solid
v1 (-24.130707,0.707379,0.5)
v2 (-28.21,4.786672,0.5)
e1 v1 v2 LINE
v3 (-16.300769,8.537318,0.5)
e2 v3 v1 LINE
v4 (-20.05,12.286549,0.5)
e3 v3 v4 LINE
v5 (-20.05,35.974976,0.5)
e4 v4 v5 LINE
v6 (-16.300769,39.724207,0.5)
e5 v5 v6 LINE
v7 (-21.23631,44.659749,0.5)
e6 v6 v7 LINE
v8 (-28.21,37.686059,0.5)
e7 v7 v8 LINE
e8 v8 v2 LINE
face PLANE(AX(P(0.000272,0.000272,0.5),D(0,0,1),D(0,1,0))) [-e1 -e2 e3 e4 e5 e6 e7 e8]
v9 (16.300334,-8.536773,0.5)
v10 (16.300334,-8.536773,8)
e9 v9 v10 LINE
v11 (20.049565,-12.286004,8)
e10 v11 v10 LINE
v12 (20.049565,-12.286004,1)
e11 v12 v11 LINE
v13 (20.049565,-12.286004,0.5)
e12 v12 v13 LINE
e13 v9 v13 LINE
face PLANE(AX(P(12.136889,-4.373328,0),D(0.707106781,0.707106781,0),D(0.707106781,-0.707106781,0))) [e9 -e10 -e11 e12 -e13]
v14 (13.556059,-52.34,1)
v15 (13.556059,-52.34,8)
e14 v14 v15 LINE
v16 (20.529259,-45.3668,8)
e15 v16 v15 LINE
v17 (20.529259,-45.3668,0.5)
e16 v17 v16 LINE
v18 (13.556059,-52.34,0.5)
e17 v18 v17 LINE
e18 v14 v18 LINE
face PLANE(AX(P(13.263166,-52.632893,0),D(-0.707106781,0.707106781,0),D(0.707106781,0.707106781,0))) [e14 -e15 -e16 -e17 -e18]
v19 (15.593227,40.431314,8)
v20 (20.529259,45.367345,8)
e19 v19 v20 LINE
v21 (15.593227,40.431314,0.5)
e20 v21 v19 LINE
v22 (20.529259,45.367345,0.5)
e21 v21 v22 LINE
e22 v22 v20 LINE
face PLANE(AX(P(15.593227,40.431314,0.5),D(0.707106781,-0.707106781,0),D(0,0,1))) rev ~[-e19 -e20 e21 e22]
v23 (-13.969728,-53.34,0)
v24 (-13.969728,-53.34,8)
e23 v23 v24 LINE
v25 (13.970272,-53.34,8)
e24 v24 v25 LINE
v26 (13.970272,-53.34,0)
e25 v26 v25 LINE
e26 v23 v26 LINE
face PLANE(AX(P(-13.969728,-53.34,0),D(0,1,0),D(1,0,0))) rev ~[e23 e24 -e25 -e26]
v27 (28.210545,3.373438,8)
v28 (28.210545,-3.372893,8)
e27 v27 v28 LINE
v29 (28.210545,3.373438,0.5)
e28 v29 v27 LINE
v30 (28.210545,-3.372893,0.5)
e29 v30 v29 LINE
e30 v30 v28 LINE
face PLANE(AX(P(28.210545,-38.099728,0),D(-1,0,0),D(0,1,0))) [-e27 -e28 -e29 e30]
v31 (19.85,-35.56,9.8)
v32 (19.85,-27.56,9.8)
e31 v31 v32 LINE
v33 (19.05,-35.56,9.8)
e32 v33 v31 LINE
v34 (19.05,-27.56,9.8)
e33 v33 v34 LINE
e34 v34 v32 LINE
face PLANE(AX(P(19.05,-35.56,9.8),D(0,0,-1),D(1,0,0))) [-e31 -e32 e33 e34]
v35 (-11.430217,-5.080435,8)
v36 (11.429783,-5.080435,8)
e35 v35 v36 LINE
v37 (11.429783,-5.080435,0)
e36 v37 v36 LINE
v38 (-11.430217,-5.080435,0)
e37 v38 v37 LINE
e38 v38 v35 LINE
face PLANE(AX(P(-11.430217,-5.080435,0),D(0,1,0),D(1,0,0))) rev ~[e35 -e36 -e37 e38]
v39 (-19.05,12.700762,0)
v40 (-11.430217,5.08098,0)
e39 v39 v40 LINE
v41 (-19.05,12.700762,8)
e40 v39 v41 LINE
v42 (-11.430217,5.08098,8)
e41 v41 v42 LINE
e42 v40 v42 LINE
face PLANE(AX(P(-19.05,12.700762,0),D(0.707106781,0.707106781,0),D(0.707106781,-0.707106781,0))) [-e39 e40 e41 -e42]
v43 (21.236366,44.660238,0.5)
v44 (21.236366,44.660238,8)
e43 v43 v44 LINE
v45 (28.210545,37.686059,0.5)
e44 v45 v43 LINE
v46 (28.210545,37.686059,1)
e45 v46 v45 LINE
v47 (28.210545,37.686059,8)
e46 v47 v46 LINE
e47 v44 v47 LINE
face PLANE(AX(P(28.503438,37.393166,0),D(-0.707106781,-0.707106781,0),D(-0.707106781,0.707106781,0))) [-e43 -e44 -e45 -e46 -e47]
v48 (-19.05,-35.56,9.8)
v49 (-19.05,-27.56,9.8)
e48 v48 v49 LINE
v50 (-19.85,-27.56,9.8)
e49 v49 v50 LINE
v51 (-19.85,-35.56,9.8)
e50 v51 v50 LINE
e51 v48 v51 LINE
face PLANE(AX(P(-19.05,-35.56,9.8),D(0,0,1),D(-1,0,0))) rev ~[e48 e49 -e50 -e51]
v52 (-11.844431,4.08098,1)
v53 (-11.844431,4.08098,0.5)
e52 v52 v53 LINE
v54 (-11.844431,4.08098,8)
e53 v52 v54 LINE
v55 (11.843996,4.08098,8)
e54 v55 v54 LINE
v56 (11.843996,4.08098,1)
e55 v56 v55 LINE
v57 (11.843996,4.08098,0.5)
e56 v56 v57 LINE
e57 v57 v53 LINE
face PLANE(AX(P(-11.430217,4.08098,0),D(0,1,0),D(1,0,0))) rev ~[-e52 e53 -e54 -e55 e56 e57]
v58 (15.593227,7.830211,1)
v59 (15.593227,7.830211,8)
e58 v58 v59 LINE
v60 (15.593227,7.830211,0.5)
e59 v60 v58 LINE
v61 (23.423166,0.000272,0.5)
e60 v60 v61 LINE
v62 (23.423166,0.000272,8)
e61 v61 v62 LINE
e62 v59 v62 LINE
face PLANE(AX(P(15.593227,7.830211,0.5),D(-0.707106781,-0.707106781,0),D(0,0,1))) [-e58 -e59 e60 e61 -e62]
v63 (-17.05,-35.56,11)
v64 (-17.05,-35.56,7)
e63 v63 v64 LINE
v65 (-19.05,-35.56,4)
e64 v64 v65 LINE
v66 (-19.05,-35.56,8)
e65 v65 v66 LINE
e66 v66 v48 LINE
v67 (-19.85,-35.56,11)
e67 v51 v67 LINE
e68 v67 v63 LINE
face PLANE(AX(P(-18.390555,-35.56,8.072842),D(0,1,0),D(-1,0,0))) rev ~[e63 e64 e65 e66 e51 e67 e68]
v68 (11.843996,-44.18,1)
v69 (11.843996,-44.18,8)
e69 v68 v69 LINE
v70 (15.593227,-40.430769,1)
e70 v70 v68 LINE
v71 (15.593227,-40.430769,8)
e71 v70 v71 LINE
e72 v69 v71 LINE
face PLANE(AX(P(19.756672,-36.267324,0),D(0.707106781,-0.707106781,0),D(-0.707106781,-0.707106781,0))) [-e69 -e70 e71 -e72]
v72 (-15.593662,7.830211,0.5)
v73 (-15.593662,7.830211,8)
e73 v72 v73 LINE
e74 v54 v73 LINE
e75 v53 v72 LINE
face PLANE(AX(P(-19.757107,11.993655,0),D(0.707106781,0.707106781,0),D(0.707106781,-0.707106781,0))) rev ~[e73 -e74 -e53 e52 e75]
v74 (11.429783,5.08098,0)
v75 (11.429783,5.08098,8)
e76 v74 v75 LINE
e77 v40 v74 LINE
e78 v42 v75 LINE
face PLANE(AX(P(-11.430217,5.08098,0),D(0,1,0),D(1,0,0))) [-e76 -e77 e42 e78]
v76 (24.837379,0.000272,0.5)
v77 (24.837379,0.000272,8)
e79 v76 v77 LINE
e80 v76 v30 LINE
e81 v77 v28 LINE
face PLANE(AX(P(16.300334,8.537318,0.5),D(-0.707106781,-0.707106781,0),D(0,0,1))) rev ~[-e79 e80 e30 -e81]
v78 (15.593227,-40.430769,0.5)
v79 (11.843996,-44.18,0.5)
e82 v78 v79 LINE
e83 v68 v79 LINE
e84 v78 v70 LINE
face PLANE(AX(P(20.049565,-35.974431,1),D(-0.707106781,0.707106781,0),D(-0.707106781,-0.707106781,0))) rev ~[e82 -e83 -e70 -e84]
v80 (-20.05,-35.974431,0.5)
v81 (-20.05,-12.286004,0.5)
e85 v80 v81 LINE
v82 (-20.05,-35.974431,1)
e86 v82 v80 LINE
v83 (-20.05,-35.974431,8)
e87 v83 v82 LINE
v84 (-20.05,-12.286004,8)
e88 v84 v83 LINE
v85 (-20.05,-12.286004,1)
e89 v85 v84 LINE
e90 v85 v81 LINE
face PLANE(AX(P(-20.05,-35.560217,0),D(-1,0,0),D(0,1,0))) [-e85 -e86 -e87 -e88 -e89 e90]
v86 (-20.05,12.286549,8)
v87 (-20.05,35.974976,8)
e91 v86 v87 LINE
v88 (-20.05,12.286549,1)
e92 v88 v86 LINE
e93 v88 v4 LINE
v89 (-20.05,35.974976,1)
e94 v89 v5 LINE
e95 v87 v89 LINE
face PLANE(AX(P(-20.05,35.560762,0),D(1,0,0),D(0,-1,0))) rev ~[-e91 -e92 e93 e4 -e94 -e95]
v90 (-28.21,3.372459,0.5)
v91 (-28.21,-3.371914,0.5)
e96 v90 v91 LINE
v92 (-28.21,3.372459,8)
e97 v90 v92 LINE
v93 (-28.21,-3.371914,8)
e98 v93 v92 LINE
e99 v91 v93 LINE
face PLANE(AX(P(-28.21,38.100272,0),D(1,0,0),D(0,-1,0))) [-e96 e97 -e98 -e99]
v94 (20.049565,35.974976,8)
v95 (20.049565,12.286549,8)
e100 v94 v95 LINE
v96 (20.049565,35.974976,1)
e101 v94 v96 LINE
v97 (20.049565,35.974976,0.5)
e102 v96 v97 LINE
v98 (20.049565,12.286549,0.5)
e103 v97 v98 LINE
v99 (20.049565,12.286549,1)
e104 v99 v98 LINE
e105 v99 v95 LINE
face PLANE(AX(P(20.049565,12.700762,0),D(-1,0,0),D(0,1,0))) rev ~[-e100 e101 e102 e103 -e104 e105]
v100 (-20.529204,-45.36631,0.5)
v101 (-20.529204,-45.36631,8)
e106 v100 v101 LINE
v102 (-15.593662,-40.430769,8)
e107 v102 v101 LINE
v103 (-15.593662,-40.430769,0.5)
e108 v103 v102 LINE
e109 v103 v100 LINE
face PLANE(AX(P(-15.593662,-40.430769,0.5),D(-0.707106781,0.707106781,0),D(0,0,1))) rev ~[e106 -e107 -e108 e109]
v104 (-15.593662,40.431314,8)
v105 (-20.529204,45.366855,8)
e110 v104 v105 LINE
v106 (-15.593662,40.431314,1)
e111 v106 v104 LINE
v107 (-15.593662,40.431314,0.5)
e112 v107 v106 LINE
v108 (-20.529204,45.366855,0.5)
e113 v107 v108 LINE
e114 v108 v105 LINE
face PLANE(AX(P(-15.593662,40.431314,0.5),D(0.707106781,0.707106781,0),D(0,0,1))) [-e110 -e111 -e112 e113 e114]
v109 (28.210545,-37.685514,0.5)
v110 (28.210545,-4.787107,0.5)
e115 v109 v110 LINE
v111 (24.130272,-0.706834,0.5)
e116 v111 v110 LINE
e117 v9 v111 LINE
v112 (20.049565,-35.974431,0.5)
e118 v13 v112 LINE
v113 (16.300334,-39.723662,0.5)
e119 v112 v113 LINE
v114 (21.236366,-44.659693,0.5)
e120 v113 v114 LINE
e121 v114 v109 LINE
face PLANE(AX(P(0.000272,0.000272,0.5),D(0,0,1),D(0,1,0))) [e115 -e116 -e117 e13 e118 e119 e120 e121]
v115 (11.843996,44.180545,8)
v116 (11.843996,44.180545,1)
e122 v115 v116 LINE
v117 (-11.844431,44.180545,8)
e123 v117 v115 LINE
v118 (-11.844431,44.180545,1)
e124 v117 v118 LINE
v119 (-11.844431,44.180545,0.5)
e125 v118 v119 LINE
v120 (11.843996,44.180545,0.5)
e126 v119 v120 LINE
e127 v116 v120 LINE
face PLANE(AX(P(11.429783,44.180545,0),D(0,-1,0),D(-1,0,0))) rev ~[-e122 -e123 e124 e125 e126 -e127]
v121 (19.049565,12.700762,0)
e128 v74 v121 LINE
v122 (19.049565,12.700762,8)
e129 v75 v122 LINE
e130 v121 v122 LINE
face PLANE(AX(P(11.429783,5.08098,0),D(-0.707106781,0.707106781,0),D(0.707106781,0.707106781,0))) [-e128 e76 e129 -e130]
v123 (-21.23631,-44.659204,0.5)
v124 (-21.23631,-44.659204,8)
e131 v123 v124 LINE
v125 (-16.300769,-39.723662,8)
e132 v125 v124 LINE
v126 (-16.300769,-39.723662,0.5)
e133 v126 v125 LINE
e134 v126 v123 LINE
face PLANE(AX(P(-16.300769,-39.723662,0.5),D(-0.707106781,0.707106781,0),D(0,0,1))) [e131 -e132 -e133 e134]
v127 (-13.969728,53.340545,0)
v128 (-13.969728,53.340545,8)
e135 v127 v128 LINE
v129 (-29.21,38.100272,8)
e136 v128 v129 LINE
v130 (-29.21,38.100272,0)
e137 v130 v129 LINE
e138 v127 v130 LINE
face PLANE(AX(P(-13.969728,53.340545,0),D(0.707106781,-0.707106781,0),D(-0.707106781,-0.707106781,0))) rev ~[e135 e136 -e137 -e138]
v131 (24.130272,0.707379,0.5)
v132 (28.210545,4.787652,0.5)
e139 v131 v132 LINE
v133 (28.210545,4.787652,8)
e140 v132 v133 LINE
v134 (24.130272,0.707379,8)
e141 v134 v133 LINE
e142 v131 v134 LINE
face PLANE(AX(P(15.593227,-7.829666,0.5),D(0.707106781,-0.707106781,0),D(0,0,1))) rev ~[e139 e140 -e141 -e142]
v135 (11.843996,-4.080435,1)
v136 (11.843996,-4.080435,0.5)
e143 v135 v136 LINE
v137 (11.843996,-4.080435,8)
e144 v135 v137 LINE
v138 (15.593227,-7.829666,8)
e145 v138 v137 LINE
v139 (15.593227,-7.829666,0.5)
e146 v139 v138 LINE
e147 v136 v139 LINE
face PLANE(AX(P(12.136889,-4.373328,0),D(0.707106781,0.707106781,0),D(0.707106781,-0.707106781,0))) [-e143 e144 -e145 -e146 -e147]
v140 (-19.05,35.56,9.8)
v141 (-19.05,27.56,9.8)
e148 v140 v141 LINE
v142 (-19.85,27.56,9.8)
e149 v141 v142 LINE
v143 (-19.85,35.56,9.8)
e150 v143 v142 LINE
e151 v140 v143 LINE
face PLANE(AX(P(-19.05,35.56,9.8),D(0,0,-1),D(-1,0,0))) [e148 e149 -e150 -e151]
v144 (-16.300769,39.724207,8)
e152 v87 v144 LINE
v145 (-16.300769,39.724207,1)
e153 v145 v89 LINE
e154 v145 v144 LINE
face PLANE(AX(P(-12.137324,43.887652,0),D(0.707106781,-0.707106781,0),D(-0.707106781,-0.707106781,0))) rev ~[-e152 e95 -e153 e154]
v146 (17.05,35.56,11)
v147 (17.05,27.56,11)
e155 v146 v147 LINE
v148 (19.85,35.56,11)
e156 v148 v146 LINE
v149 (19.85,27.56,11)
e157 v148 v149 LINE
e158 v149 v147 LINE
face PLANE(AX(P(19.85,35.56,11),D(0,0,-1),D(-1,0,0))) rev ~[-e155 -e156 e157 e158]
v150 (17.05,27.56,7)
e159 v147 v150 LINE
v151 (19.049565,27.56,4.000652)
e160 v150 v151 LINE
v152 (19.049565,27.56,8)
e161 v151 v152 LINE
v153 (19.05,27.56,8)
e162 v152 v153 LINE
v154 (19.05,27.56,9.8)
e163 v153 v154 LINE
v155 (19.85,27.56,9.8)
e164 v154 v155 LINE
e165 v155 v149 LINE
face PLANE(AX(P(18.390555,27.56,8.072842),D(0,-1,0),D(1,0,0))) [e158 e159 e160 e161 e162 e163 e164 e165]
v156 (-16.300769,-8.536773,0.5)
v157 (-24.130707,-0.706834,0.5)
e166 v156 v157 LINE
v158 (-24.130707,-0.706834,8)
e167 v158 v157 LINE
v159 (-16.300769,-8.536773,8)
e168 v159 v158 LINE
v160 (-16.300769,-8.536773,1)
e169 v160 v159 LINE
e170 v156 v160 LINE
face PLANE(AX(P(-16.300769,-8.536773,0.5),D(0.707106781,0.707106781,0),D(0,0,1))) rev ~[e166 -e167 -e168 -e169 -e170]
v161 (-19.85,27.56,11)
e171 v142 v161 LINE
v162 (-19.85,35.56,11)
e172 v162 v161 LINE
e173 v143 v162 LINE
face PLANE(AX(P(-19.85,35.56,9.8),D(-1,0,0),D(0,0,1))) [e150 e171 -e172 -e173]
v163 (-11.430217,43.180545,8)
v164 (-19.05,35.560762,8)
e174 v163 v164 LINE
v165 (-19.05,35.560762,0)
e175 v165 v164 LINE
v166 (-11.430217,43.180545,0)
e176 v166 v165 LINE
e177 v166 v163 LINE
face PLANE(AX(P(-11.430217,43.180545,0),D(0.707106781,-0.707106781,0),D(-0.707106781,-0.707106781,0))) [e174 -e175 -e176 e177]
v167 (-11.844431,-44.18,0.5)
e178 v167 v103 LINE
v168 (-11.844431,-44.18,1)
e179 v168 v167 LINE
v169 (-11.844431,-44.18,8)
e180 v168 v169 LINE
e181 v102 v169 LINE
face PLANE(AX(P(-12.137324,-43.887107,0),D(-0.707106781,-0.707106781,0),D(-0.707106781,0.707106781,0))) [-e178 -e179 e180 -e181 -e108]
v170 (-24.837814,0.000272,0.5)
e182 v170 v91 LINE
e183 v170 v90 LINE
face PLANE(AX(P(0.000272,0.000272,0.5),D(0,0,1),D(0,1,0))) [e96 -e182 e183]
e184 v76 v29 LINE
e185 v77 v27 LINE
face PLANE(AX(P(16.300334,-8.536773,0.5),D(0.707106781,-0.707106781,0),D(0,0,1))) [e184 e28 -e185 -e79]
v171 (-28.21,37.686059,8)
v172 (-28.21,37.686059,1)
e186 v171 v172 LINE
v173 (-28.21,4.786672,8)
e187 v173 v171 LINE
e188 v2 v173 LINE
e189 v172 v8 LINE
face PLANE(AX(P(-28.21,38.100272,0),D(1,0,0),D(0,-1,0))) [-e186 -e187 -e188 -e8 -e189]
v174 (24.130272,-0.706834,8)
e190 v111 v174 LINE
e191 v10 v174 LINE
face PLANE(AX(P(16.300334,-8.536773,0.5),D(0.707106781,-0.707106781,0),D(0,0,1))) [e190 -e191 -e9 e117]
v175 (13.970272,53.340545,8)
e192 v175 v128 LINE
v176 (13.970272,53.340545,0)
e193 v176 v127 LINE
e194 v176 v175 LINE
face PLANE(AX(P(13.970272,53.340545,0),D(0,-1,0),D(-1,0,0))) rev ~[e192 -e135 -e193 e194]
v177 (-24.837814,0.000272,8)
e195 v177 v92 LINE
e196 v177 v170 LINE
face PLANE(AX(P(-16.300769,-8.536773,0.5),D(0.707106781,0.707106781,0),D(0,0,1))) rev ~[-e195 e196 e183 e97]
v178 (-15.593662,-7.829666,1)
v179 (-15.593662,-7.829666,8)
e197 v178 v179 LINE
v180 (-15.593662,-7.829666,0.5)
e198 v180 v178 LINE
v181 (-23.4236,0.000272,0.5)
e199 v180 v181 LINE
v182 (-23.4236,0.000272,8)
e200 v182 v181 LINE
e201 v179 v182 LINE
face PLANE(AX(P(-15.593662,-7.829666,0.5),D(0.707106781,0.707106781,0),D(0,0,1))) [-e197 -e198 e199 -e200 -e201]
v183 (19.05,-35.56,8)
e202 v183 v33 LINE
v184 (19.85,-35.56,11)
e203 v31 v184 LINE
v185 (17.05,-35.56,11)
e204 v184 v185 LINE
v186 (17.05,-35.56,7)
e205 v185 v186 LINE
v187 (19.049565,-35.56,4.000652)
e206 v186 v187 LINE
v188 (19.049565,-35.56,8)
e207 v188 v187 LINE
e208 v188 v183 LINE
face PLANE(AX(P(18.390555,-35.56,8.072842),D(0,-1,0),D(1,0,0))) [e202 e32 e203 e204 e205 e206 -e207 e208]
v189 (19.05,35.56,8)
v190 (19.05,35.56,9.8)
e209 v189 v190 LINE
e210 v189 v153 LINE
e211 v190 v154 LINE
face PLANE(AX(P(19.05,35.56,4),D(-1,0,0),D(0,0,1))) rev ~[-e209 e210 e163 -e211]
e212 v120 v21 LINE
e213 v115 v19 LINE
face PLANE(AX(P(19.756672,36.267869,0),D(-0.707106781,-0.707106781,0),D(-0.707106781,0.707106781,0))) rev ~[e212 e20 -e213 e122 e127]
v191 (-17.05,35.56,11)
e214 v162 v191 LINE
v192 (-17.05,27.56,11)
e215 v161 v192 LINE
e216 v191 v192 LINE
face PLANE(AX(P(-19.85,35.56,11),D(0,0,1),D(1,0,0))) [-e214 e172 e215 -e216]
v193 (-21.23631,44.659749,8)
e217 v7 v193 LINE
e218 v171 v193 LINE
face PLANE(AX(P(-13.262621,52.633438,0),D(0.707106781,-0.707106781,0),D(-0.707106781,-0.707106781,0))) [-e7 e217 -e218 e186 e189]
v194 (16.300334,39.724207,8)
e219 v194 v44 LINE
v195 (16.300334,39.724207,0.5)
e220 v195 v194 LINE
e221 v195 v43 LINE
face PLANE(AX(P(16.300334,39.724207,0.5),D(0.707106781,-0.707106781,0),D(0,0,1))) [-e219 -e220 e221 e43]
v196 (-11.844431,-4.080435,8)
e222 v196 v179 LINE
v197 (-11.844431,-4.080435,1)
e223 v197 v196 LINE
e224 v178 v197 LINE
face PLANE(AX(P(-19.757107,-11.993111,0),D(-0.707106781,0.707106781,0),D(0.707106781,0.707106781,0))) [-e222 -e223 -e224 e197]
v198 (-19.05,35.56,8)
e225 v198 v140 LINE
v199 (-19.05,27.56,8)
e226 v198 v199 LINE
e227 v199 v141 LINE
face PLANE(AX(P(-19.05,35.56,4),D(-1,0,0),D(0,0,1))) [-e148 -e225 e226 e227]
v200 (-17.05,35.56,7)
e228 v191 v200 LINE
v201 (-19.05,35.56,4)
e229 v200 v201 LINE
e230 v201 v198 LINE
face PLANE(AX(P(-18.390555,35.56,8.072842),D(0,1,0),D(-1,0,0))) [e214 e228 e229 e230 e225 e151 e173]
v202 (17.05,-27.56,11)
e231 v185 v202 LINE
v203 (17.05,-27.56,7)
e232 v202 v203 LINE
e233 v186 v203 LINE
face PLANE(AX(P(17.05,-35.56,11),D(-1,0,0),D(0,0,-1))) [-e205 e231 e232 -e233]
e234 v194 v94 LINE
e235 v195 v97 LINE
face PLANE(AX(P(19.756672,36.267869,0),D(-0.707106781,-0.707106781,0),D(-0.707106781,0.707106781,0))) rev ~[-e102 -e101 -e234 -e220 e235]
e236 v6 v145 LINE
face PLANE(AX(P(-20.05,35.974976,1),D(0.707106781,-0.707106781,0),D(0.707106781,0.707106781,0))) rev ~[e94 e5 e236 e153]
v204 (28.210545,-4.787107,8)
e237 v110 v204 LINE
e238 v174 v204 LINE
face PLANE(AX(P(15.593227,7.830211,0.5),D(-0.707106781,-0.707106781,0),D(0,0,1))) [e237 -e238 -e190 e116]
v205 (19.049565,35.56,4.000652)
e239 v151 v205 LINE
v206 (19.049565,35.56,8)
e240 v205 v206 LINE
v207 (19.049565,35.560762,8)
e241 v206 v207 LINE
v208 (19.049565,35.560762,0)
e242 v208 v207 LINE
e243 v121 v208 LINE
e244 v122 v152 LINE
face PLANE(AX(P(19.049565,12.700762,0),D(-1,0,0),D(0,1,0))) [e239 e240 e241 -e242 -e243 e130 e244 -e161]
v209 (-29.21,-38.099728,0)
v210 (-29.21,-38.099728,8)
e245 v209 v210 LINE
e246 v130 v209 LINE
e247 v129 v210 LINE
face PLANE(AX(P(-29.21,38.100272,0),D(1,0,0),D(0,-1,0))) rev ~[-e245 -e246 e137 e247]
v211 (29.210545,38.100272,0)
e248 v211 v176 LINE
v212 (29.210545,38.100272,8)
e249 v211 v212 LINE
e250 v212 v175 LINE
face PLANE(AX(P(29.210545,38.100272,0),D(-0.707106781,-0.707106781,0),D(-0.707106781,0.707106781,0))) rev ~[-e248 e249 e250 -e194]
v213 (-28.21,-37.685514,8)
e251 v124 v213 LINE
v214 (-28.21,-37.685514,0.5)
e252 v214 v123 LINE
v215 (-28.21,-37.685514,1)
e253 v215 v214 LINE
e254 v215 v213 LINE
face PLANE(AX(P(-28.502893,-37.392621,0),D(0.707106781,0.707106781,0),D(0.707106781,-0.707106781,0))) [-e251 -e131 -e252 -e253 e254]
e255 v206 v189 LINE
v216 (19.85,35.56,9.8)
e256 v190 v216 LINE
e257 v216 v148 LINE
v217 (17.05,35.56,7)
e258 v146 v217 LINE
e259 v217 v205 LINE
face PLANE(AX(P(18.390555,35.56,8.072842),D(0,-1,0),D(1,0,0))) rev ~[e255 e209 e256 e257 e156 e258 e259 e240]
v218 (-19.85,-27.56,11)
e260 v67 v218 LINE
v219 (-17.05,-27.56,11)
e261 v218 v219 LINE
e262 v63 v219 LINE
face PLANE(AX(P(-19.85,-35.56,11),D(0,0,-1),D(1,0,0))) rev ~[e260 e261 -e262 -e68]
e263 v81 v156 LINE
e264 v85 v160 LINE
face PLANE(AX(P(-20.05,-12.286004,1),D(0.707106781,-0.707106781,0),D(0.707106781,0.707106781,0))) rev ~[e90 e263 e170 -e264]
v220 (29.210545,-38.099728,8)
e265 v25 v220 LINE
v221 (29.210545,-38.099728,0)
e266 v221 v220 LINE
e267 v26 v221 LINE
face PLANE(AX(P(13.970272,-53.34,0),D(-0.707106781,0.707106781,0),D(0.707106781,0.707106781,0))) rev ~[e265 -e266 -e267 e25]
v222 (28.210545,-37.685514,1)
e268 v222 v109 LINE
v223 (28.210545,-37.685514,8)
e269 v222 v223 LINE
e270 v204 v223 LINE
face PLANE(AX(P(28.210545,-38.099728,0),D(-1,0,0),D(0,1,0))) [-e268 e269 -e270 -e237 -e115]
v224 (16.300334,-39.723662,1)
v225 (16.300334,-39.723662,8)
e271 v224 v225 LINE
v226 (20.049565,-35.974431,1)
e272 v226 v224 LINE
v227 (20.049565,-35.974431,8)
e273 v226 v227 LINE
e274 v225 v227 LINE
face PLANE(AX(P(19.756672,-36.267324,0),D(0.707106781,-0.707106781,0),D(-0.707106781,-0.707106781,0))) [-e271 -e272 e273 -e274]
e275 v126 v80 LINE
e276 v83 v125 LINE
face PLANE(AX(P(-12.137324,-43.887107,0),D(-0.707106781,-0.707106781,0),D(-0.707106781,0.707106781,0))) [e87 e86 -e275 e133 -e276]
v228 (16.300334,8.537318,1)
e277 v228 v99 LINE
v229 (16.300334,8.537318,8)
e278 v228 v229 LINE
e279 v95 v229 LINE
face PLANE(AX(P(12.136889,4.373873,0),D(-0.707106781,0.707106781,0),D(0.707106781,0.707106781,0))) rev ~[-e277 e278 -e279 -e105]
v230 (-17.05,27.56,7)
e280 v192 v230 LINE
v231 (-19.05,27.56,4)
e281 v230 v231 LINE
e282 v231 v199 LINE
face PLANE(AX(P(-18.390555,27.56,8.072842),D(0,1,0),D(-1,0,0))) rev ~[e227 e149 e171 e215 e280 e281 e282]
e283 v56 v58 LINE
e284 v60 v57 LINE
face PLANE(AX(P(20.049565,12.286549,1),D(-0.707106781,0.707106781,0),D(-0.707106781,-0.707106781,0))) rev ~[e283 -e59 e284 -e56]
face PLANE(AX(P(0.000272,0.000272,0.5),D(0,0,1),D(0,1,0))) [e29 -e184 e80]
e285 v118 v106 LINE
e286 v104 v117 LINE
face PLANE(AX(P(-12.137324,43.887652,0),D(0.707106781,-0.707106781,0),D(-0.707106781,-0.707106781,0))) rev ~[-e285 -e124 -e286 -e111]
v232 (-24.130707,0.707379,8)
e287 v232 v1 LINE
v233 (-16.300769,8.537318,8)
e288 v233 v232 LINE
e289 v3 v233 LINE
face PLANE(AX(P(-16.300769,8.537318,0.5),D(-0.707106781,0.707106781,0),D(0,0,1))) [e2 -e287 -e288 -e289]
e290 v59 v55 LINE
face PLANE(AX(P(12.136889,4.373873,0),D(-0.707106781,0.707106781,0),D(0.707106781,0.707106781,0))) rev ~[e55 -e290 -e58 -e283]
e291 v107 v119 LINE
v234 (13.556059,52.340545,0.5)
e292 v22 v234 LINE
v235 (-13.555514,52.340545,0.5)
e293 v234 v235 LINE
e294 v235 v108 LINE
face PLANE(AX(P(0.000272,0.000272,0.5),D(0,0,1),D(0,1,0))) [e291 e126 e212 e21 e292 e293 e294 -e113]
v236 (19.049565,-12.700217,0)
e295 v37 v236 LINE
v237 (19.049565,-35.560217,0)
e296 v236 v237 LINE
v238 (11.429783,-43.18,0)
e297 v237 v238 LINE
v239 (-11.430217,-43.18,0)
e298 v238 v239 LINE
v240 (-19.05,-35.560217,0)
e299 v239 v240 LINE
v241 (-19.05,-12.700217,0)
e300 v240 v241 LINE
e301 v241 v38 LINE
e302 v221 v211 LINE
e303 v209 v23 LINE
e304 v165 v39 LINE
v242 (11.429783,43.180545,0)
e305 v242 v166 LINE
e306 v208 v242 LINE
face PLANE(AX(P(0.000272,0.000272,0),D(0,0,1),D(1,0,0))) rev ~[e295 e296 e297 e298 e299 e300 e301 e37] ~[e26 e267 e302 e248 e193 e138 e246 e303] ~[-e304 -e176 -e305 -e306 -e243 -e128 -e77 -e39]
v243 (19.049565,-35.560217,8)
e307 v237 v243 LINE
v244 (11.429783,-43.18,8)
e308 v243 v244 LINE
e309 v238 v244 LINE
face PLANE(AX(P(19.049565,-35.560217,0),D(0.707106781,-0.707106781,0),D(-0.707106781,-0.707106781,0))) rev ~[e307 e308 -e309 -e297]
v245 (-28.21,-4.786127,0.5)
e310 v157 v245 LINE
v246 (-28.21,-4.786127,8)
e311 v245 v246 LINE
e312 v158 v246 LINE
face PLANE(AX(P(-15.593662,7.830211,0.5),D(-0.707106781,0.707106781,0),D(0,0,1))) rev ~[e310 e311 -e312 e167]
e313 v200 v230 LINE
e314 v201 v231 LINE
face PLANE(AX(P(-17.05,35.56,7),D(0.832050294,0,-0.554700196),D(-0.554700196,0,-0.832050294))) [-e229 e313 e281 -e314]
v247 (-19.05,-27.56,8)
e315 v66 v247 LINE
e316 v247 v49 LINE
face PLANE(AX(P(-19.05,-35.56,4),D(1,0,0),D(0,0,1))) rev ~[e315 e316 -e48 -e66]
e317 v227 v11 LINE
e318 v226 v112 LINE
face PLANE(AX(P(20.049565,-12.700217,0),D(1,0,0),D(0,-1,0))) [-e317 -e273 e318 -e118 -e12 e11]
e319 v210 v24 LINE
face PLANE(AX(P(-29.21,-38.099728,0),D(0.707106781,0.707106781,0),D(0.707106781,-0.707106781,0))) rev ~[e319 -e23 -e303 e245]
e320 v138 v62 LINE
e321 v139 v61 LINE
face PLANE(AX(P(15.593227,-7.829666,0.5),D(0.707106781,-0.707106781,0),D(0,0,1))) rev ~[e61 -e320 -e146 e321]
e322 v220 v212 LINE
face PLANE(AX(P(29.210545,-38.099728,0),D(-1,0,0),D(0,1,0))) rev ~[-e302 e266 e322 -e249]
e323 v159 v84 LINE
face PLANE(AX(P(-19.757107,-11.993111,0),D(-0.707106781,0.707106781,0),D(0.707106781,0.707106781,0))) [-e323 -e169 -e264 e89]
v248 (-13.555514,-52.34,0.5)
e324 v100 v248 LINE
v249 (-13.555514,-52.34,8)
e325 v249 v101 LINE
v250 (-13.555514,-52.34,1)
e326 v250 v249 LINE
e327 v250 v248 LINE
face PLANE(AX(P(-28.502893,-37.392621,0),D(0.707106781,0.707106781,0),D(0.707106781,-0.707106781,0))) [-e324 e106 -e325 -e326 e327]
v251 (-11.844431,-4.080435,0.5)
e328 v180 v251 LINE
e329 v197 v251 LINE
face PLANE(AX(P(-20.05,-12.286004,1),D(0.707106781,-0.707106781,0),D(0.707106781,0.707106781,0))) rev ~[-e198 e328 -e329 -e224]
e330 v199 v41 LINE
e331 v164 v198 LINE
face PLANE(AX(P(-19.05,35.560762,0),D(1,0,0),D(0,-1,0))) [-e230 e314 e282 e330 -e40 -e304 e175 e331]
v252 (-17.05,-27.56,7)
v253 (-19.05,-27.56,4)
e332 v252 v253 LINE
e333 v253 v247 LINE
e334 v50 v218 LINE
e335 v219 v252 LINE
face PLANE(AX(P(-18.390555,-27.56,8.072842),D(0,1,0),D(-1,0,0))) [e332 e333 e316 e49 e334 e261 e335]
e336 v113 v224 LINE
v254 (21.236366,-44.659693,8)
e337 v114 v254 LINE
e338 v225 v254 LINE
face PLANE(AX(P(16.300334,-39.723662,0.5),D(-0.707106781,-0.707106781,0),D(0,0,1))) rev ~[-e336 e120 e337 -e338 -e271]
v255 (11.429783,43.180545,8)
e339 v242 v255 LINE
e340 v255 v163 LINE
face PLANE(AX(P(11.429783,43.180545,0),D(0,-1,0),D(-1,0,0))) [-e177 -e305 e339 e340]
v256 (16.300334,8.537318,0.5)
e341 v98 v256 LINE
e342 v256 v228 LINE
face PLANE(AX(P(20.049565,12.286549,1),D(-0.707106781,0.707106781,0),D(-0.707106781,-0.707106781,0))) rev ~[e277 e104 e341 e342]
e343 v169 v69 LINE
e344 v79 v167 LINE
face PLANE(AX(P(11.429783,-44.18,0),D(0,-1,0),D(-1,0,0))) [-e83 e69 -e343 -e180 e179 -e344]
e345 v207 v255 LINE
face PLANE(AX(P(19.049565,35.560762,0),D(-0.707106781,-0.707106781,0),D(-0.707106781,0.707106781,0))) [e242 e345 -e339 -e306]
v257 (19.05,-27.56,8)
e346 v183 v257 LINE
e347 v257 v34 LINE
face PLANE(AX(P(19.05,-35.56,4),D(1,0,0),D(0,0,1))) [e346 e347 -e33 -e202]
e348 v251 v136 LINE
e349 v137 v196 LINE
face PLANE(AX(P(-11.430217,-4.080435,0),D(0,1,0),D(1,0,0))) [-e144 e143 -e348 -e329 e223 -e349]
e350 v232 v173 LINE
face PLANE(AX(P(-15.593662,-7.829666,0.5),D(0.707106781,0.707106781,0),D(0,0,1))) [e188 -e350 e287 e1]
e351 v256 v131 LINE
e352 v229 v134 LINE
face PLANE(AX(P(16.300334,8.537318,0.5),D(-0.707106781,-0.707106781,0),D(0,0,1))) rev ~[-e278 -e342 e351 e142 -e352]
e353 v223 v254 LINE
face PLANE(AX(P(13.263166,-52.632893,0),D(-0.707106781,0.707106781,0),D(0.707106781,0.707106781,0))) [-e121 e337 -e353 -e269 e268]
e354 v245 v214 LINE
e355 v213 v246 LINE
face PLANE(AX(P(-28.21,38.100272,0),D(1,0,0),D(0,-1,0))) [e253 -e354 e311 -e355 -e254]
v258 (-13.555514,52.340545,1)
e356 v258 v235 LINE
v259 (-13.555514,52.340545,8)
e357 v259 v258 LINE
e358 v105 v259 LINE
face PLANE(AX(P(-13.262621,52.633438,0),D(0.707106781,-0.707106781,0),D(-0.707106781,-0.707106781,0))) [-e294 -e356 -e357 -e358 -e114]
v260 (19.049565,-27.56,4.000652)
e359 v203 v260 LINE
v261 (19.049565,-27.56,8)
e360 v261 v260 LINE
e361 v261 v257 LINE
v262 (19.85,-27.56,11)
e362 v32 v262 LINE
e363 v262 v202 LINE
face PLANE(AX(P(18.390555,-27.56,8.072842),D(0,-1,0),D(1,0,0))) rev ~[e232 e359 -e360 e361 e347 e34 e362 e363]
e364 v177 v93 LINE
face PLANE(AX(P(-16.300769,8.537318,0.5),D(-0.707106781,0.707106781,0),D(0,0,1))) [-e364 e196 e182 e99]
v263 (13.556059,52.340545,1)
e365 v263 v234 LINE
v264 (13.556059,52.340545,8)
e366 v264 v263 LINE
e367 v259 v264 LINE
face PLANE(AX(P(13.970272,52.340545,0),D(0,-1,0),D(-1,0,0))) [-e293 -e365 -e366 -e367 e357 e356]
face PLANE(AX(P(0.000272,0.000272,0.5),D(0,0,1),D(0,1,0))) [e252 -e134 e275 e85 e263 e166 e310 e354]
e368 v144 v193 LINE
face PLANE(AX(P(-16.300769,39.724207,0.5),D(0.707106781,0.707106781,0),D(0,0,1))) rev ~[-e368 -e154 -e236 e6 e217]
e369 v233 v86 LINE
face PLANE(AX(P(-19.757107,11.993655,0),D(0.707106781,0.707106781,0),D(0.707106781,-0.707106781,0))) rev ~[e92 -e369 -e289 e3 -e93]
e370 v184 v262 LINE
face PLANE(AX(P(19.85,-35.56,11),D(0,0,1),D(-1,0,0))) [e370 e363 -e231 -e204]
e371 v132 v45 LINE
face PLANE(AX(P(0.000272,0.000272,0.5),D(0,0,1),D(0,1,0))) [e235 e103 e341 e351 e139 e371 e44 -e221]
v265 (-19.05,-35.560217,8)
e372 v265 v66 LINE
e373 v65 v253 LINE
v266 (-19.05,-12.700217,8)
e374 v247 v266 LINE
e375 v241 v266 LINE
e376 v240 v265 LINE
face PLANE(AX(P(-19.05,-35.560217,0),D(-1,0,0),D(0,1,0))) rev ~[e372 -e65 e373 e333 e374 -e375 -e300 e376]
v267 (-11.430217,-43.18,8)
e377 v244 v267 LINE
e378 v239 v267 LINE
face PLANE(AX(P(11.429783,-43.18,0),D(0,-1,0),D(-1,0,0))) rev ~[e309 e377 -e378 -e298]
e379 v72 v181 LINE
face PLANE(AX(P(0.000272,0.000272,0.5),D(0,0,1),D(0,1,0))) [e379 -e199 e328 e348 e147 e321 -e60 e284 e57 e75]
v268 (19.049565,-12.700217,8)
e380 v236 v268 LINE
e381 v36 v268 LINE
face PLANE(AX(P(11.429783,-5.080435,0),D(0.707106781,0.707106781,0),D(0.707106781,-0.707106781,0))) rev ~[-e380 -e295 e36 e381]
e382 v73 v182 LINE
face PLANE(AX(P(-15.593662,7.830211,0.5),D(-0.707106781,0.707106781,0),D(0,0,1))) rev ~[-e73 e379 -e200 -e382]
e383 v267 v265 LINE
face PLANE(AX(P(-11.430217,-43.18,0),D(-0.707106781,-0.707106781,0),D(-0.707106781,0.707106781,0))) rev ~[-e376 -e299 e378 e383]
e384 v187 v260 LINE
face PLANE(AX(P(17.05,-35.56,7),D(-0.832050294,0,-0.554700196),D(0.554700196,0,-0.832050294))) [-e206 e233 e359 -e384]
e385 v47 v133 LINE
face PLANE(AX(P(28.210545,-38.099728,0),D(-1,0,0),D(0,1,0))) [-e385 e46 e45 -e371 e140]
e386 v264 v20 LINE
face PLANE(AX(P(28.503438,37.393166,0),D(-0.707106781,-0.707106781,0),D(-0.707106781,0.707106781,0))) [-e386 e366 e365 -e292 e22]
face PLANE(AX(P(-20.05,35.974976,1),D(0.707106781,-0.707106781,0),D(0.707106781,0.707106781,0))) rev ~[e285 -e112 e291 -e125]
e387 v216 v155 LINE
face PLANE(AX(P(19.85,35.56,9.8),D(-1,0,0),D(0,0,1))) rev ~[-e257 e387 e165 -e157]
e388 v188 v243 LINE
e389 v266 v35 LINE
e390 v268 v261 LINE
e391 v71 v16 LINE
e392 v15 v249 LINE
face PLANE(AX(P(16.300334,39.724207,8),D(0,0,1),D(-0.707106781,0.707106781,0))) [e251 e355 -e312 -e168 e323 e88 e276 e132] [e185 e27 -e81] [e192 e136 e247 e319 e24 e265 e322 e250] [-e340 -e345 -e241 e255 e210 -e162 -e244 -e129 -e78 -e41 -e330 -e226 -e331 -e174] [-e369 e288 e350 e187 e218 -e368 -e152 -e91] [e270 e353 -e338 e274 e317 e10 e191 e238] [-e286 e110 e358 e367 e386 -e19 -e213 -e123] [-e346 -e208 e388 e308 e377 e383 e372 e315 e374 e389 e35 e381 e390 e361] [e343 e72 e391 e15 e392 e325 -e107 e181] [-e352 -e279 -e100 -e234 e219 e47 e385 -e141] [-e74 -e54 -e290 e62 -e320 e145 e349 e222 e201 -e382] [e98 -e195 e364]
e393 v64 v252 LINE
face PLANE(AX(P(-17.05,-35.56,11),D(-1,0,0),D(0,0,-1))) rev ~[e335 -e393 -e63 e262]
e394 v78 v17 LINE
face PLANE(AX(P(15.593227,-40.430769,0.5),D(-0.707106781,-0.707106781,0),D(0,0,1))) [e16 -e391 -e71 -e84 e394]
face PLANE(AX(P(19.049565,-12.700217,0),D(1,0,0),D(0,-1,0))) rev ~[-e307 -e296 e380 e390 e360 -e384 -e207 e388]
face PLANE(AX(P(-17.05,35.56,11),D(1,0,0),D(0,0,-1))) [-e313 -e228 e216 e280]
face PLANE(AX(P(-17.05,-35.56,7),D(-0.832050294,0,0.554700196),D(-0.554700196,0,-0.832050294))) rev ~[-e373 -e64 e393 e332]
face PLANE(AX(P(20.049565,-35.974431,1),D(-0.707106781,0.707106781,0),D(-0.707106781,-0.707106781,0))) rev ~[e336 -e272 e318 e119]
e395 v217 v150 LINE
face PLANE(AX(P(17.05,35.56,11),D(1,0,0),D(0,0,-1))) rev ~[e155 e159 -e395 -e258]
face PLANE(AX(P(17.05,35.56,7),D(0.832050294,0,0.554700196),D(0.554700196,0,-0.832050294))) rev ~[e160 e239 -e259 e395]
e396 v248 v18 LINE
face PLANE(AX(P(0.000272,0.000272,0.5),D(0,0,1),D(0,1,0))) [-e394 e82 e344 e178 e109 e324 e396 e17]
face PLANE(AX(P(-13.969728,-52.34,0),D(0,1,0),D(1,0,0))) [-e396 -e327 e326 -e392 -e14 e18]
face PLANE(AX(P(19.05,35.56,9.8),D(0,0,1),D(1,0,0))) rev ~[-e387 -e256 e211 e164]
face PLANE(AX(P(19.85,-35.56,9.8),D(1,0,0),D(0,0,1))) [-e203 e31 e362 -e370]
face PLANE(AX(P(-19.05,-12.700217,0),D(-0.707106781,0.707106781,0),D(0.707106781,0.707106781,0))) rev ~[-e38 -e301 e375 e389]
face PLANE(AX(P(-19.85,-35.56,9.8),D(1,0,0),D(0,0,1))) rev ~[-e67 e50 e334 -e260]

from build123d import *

# Parameters (mm, degrees)
PAD_DEPTH    = 8
THICKNESS_T  = -1
POCKET_DEPTH = 0.5
PAD001_DEPTH = 8
PAD002_DEPTH = 8
SKETCH003_W  = 1
SKETCH003_H  = 7.5
PAD003_DEPTH = 18
SKETCH004_W  = 1
SKETCH004_H  = 7.5
PAD004_DEPTH = 18
SKETCH005_W  = 1
SKETCH005_H  = 7.5
PAD005_DEPTH = 18
SKETCH006_W  = 1
SKETCH006_H  = 7.5
PAD006_DEPTH = 18
SKETCH007_W  = 1
SKETCH007_H  = 7.5
PAD007_DEPTH = 7
SKETCH008_W  = 1
SKETCH008_H  = 7.5
PAD008_DEPTH = 7
SKETCH009_W  = 1
SKETCH009_H  = 7.5
PAD009_DEPTH = 7
SKETCH010_W  = 1
SKETCH010_H  = 7.5
PAD010_DEPTH = 7


with BuildPart() as part:
    # Sketch → Pad (new body)
    with BuildSketch(Plane.XY):
        Polygon((-29.21, 38.1002724549), (-29.21, -38.0997275451), (-13.9697275451, -53.34), (13.9702724549, -53.34), (29.2105449098, -38.0997275451), (29.2105449098, 38.1002724549), (13.9702724549, 53.3405449098), (-13.9697275451, 53.3405449098), align=None)
        Polygon((-19.05, 35.5607622358), (-19.05, 12.7007622358), (-11.4302173259, 5.0809795617), (11.4297826741, 5.0809795617), (19.0495653481, 12.7007622358), (19.0495653481, 35.5607622358), (11.4297826741, 43.1805449098), (-11.4302173259, 43.1805449098), align=None, mode=Mode.SUBTRACT)
        Polygon((-19.05, -35.5602173259), (-19.05, -12.7002173259), (-11.4302173259, -5.0804346519), (11.4297826741, -5.0804346519), (19.0495653481, -12.7002173259), (19.0495653481, -35.5602173259), (11.4297826741, -43.18), (-11.4302173259, -43.18), align=None, mode=Mode.SUBTRACT)
    extrude(amount=PAD_DEPTH)

    # Thickness
    thickness_openings = [part.faces().sort_by_distance(p)[0] for p in [
        (0.000695, 0.000272, 8),
    ]]
    offset(amount=THICKNESS_T, openings=thickness_openings, kind=Kind.INTERSECTION)

    # Thickness Face35 → Pocket (cut)
    with BuildSketch(Plane(origin=(0.0008428897, 0.0002724549, 1), x_dir=(0, 1, 0), z_dir=(0, 0, 1))):
        Polygon((37.6857864376, 28.2108428897), (-37.6857864376, 28.2108428897), (-52.3402724549, 13.5563568724), (-52.3402724549, -13.5552160028), (-37.6857864376, -28.2097020201), (37.6857864376, -28.2097020201), (52.3402724549, -13.5552160028), (52.3402724549, 13.5563568724), align=None)
        Polygon((35.9747033432, 20.0508428897), (44.1802724549, 11.845273778), (44.1802724549, -11.8431533467), (35.9747033432, -20.0487224584), (12.2862762185, -20.0487224584), (4.0807071068, -11.8431533467), (4.0807071068, 11.845273778), (12.2862762185, 20.0508428897), align=None, mode=Mode.SUBTRACT)
        Polygon((-35.9747033432, 20.0508428897), (-12.2862762185, 20.0508428897), (-4.0807071068, 11.845273778), (-4.0807071068, -11.8431533467), (-12.2862762185, -20.0487224584), (-35.9747033432, -20.0487224584), (-44.1802724549, -11.8431533467), (-44.1802724549, 11.845273778), align=None, mode=Mode.SUBTRACT)
    extrude(amount=-POCKET_DEPTH, mode=Mode.SUBTRACT)

    # Sketch001 → Pad001 (join)
    with BuildSketch(Plane.XZ.offset(35.56)):
        Polygon((-19.05, 4), (-19.05, 9.8), (-19.85, 9.8), (-19.85, 11), (-17.05, 11), (-17.05, 7), align=None)
        Polygon((19.05, 4), (19.05, 9.8), (19.85, 9.8), (19.85, 11), (17.05, 11), (17.05, 7), align=None)
    extrude(amount=-PAD001_DEPTH)

    # Sketch002 → Pad002 (join)
    with BuildSketch(Plane.XZ.offset(-35.56)):
        Polygon((-19.05, 4), (-19.05, 9.8), (-19.85, 9.8), (-19.85, 11), (-17.05, 11), (-17.05, 7), align=None)
        Polygon((19.05, 4), (19.05, 9.8), (19.85, 9.8), (19.85, 11), (17.05, 11), (17.05, 7), align=None)
    extrude(amount=PAD002_DEPTH)

    # Sketch003 (on Face77 of Pad002) → Pad003 (join)
    with BuildSketch(Plane(origin=(3.8815083374, -3.8815083374, 0), x_dir=(0.7071067812, 0.7071067812, 0), z_dir=(0.7071067812, -0.7071067812, 0))):
        with Locations((17.0628719395, 4.25)):
            Rectangle(SKETCH003_W, SKETCH003_H)
    extrude(amount=PAD003_DEPTH)

    # Sketch004 (on Face56 of Pad003) → Pad004 (join)
    with BuildSketch(Plane(origin=(3.8817807923, 3.8817807923, 0), x_dir=(-0.7071067812, 0.7071067812, 0), z_dir=(0.7071067812, 0.7071067812, 0))):
        with Locations((-17.06248663, 4.25)):
            Rectangle(SKETCH004_W, SKETCH004_H)
    extrude(amount=PAD004_DEPTH)

    # Sketch005 (on Face84 of Pad004) → Pad005 (join)
    with BuildSketch(Plane(origin=(-3.8817256633, -3.8817256633, 0), x_dir=(0.7071067812, -0.7071067812, 0), z_dir=(-0.7071067812, -0.7071067812, 0))):
        with Locations((-17.0631792847, 4.25)):
            Rectangle(SKETCH005_W, SKETCH005_H)
    extrude(amount=PAD005_DEPTH)

    # Sketch006 (on Face69 of Pad005) → Pad006 (join)
    with BuildSketch(Plane(origin=(-3.8819981182, 3.8819981182, 0), x_dir=(-0.7071067812, -0.7071067812, 0), z_dir=(-0.7071067812, 0.7071067812, 0))):
        with Locations((17.0627939753, 4.25)):
            Rectangle(SKETCH006_W, SKETCH006_H)
    extrude(amount=PAD006_DEPTH)

    # Sketch007 (on Face79 of Pad006) → Pad007 (join)
    with BuildSketch(Plane(origin=(-28.0124878991, 28.0124878991, 0), x_dir=(-0.7071067812, -0.7071067812, 0), z_dir=(-0.7071067812, 0.7071067812, 0))):
        with Locations((-17.0628719395, 4.25)):
            Rectangle(SKETCH007_W, SKETCH007_H)
    extrude(amount=PAD007_DEPTH)

    # Sketch008 (on Face73 of Pad007) → Pad008 (join)
    with BuildSketch(Plane(origin=(-28.0122154442, -28.0122154442, 0), x_dir=(0.7071067812, -0.7071067812, 0), z_dir=(-0.7071067812, -0.7071067812, 0))):
        with Locations((17.06248663, 4.25)):
            Rectangle(SKETCH008_W, SKETCH008_H)
    extrude(amount=PAD008_DEPTH)

    # Sketch009 (on Face64 of Pad008) → Pad009 (join)
    with BuildSketch(Plane(origin=(28.0119981182, -28.0119981182, 0), x_dir=(0.7071067812, 0.7071067812, 0), z_dir=(0.7071067812, -0.7071067812, 0))):
        with Locations((-17.0627939753, 4.25)):
            Rectangle(SKETCH009_W, SKETCH009_H)
    extrude(amount=PAD009_DEPTH)

    # Sketch010 (on Face62 of Pad009) → Pad010 (join)
    with BuildSketch(Plane(origin=(28.0122705731, 28.0122705731, 0), x_dir=(-0.7071067812, 0.7071067812, 0), z_dir=(0.7071067812, 0.7071067812, 0))):
        with Locations((17.0631792847, 4.25)):
            Rectangle(SKETCH010_W, SKETCH010_H)
    extrude(amount=PAD010_DEPTH)


solid = part.part
